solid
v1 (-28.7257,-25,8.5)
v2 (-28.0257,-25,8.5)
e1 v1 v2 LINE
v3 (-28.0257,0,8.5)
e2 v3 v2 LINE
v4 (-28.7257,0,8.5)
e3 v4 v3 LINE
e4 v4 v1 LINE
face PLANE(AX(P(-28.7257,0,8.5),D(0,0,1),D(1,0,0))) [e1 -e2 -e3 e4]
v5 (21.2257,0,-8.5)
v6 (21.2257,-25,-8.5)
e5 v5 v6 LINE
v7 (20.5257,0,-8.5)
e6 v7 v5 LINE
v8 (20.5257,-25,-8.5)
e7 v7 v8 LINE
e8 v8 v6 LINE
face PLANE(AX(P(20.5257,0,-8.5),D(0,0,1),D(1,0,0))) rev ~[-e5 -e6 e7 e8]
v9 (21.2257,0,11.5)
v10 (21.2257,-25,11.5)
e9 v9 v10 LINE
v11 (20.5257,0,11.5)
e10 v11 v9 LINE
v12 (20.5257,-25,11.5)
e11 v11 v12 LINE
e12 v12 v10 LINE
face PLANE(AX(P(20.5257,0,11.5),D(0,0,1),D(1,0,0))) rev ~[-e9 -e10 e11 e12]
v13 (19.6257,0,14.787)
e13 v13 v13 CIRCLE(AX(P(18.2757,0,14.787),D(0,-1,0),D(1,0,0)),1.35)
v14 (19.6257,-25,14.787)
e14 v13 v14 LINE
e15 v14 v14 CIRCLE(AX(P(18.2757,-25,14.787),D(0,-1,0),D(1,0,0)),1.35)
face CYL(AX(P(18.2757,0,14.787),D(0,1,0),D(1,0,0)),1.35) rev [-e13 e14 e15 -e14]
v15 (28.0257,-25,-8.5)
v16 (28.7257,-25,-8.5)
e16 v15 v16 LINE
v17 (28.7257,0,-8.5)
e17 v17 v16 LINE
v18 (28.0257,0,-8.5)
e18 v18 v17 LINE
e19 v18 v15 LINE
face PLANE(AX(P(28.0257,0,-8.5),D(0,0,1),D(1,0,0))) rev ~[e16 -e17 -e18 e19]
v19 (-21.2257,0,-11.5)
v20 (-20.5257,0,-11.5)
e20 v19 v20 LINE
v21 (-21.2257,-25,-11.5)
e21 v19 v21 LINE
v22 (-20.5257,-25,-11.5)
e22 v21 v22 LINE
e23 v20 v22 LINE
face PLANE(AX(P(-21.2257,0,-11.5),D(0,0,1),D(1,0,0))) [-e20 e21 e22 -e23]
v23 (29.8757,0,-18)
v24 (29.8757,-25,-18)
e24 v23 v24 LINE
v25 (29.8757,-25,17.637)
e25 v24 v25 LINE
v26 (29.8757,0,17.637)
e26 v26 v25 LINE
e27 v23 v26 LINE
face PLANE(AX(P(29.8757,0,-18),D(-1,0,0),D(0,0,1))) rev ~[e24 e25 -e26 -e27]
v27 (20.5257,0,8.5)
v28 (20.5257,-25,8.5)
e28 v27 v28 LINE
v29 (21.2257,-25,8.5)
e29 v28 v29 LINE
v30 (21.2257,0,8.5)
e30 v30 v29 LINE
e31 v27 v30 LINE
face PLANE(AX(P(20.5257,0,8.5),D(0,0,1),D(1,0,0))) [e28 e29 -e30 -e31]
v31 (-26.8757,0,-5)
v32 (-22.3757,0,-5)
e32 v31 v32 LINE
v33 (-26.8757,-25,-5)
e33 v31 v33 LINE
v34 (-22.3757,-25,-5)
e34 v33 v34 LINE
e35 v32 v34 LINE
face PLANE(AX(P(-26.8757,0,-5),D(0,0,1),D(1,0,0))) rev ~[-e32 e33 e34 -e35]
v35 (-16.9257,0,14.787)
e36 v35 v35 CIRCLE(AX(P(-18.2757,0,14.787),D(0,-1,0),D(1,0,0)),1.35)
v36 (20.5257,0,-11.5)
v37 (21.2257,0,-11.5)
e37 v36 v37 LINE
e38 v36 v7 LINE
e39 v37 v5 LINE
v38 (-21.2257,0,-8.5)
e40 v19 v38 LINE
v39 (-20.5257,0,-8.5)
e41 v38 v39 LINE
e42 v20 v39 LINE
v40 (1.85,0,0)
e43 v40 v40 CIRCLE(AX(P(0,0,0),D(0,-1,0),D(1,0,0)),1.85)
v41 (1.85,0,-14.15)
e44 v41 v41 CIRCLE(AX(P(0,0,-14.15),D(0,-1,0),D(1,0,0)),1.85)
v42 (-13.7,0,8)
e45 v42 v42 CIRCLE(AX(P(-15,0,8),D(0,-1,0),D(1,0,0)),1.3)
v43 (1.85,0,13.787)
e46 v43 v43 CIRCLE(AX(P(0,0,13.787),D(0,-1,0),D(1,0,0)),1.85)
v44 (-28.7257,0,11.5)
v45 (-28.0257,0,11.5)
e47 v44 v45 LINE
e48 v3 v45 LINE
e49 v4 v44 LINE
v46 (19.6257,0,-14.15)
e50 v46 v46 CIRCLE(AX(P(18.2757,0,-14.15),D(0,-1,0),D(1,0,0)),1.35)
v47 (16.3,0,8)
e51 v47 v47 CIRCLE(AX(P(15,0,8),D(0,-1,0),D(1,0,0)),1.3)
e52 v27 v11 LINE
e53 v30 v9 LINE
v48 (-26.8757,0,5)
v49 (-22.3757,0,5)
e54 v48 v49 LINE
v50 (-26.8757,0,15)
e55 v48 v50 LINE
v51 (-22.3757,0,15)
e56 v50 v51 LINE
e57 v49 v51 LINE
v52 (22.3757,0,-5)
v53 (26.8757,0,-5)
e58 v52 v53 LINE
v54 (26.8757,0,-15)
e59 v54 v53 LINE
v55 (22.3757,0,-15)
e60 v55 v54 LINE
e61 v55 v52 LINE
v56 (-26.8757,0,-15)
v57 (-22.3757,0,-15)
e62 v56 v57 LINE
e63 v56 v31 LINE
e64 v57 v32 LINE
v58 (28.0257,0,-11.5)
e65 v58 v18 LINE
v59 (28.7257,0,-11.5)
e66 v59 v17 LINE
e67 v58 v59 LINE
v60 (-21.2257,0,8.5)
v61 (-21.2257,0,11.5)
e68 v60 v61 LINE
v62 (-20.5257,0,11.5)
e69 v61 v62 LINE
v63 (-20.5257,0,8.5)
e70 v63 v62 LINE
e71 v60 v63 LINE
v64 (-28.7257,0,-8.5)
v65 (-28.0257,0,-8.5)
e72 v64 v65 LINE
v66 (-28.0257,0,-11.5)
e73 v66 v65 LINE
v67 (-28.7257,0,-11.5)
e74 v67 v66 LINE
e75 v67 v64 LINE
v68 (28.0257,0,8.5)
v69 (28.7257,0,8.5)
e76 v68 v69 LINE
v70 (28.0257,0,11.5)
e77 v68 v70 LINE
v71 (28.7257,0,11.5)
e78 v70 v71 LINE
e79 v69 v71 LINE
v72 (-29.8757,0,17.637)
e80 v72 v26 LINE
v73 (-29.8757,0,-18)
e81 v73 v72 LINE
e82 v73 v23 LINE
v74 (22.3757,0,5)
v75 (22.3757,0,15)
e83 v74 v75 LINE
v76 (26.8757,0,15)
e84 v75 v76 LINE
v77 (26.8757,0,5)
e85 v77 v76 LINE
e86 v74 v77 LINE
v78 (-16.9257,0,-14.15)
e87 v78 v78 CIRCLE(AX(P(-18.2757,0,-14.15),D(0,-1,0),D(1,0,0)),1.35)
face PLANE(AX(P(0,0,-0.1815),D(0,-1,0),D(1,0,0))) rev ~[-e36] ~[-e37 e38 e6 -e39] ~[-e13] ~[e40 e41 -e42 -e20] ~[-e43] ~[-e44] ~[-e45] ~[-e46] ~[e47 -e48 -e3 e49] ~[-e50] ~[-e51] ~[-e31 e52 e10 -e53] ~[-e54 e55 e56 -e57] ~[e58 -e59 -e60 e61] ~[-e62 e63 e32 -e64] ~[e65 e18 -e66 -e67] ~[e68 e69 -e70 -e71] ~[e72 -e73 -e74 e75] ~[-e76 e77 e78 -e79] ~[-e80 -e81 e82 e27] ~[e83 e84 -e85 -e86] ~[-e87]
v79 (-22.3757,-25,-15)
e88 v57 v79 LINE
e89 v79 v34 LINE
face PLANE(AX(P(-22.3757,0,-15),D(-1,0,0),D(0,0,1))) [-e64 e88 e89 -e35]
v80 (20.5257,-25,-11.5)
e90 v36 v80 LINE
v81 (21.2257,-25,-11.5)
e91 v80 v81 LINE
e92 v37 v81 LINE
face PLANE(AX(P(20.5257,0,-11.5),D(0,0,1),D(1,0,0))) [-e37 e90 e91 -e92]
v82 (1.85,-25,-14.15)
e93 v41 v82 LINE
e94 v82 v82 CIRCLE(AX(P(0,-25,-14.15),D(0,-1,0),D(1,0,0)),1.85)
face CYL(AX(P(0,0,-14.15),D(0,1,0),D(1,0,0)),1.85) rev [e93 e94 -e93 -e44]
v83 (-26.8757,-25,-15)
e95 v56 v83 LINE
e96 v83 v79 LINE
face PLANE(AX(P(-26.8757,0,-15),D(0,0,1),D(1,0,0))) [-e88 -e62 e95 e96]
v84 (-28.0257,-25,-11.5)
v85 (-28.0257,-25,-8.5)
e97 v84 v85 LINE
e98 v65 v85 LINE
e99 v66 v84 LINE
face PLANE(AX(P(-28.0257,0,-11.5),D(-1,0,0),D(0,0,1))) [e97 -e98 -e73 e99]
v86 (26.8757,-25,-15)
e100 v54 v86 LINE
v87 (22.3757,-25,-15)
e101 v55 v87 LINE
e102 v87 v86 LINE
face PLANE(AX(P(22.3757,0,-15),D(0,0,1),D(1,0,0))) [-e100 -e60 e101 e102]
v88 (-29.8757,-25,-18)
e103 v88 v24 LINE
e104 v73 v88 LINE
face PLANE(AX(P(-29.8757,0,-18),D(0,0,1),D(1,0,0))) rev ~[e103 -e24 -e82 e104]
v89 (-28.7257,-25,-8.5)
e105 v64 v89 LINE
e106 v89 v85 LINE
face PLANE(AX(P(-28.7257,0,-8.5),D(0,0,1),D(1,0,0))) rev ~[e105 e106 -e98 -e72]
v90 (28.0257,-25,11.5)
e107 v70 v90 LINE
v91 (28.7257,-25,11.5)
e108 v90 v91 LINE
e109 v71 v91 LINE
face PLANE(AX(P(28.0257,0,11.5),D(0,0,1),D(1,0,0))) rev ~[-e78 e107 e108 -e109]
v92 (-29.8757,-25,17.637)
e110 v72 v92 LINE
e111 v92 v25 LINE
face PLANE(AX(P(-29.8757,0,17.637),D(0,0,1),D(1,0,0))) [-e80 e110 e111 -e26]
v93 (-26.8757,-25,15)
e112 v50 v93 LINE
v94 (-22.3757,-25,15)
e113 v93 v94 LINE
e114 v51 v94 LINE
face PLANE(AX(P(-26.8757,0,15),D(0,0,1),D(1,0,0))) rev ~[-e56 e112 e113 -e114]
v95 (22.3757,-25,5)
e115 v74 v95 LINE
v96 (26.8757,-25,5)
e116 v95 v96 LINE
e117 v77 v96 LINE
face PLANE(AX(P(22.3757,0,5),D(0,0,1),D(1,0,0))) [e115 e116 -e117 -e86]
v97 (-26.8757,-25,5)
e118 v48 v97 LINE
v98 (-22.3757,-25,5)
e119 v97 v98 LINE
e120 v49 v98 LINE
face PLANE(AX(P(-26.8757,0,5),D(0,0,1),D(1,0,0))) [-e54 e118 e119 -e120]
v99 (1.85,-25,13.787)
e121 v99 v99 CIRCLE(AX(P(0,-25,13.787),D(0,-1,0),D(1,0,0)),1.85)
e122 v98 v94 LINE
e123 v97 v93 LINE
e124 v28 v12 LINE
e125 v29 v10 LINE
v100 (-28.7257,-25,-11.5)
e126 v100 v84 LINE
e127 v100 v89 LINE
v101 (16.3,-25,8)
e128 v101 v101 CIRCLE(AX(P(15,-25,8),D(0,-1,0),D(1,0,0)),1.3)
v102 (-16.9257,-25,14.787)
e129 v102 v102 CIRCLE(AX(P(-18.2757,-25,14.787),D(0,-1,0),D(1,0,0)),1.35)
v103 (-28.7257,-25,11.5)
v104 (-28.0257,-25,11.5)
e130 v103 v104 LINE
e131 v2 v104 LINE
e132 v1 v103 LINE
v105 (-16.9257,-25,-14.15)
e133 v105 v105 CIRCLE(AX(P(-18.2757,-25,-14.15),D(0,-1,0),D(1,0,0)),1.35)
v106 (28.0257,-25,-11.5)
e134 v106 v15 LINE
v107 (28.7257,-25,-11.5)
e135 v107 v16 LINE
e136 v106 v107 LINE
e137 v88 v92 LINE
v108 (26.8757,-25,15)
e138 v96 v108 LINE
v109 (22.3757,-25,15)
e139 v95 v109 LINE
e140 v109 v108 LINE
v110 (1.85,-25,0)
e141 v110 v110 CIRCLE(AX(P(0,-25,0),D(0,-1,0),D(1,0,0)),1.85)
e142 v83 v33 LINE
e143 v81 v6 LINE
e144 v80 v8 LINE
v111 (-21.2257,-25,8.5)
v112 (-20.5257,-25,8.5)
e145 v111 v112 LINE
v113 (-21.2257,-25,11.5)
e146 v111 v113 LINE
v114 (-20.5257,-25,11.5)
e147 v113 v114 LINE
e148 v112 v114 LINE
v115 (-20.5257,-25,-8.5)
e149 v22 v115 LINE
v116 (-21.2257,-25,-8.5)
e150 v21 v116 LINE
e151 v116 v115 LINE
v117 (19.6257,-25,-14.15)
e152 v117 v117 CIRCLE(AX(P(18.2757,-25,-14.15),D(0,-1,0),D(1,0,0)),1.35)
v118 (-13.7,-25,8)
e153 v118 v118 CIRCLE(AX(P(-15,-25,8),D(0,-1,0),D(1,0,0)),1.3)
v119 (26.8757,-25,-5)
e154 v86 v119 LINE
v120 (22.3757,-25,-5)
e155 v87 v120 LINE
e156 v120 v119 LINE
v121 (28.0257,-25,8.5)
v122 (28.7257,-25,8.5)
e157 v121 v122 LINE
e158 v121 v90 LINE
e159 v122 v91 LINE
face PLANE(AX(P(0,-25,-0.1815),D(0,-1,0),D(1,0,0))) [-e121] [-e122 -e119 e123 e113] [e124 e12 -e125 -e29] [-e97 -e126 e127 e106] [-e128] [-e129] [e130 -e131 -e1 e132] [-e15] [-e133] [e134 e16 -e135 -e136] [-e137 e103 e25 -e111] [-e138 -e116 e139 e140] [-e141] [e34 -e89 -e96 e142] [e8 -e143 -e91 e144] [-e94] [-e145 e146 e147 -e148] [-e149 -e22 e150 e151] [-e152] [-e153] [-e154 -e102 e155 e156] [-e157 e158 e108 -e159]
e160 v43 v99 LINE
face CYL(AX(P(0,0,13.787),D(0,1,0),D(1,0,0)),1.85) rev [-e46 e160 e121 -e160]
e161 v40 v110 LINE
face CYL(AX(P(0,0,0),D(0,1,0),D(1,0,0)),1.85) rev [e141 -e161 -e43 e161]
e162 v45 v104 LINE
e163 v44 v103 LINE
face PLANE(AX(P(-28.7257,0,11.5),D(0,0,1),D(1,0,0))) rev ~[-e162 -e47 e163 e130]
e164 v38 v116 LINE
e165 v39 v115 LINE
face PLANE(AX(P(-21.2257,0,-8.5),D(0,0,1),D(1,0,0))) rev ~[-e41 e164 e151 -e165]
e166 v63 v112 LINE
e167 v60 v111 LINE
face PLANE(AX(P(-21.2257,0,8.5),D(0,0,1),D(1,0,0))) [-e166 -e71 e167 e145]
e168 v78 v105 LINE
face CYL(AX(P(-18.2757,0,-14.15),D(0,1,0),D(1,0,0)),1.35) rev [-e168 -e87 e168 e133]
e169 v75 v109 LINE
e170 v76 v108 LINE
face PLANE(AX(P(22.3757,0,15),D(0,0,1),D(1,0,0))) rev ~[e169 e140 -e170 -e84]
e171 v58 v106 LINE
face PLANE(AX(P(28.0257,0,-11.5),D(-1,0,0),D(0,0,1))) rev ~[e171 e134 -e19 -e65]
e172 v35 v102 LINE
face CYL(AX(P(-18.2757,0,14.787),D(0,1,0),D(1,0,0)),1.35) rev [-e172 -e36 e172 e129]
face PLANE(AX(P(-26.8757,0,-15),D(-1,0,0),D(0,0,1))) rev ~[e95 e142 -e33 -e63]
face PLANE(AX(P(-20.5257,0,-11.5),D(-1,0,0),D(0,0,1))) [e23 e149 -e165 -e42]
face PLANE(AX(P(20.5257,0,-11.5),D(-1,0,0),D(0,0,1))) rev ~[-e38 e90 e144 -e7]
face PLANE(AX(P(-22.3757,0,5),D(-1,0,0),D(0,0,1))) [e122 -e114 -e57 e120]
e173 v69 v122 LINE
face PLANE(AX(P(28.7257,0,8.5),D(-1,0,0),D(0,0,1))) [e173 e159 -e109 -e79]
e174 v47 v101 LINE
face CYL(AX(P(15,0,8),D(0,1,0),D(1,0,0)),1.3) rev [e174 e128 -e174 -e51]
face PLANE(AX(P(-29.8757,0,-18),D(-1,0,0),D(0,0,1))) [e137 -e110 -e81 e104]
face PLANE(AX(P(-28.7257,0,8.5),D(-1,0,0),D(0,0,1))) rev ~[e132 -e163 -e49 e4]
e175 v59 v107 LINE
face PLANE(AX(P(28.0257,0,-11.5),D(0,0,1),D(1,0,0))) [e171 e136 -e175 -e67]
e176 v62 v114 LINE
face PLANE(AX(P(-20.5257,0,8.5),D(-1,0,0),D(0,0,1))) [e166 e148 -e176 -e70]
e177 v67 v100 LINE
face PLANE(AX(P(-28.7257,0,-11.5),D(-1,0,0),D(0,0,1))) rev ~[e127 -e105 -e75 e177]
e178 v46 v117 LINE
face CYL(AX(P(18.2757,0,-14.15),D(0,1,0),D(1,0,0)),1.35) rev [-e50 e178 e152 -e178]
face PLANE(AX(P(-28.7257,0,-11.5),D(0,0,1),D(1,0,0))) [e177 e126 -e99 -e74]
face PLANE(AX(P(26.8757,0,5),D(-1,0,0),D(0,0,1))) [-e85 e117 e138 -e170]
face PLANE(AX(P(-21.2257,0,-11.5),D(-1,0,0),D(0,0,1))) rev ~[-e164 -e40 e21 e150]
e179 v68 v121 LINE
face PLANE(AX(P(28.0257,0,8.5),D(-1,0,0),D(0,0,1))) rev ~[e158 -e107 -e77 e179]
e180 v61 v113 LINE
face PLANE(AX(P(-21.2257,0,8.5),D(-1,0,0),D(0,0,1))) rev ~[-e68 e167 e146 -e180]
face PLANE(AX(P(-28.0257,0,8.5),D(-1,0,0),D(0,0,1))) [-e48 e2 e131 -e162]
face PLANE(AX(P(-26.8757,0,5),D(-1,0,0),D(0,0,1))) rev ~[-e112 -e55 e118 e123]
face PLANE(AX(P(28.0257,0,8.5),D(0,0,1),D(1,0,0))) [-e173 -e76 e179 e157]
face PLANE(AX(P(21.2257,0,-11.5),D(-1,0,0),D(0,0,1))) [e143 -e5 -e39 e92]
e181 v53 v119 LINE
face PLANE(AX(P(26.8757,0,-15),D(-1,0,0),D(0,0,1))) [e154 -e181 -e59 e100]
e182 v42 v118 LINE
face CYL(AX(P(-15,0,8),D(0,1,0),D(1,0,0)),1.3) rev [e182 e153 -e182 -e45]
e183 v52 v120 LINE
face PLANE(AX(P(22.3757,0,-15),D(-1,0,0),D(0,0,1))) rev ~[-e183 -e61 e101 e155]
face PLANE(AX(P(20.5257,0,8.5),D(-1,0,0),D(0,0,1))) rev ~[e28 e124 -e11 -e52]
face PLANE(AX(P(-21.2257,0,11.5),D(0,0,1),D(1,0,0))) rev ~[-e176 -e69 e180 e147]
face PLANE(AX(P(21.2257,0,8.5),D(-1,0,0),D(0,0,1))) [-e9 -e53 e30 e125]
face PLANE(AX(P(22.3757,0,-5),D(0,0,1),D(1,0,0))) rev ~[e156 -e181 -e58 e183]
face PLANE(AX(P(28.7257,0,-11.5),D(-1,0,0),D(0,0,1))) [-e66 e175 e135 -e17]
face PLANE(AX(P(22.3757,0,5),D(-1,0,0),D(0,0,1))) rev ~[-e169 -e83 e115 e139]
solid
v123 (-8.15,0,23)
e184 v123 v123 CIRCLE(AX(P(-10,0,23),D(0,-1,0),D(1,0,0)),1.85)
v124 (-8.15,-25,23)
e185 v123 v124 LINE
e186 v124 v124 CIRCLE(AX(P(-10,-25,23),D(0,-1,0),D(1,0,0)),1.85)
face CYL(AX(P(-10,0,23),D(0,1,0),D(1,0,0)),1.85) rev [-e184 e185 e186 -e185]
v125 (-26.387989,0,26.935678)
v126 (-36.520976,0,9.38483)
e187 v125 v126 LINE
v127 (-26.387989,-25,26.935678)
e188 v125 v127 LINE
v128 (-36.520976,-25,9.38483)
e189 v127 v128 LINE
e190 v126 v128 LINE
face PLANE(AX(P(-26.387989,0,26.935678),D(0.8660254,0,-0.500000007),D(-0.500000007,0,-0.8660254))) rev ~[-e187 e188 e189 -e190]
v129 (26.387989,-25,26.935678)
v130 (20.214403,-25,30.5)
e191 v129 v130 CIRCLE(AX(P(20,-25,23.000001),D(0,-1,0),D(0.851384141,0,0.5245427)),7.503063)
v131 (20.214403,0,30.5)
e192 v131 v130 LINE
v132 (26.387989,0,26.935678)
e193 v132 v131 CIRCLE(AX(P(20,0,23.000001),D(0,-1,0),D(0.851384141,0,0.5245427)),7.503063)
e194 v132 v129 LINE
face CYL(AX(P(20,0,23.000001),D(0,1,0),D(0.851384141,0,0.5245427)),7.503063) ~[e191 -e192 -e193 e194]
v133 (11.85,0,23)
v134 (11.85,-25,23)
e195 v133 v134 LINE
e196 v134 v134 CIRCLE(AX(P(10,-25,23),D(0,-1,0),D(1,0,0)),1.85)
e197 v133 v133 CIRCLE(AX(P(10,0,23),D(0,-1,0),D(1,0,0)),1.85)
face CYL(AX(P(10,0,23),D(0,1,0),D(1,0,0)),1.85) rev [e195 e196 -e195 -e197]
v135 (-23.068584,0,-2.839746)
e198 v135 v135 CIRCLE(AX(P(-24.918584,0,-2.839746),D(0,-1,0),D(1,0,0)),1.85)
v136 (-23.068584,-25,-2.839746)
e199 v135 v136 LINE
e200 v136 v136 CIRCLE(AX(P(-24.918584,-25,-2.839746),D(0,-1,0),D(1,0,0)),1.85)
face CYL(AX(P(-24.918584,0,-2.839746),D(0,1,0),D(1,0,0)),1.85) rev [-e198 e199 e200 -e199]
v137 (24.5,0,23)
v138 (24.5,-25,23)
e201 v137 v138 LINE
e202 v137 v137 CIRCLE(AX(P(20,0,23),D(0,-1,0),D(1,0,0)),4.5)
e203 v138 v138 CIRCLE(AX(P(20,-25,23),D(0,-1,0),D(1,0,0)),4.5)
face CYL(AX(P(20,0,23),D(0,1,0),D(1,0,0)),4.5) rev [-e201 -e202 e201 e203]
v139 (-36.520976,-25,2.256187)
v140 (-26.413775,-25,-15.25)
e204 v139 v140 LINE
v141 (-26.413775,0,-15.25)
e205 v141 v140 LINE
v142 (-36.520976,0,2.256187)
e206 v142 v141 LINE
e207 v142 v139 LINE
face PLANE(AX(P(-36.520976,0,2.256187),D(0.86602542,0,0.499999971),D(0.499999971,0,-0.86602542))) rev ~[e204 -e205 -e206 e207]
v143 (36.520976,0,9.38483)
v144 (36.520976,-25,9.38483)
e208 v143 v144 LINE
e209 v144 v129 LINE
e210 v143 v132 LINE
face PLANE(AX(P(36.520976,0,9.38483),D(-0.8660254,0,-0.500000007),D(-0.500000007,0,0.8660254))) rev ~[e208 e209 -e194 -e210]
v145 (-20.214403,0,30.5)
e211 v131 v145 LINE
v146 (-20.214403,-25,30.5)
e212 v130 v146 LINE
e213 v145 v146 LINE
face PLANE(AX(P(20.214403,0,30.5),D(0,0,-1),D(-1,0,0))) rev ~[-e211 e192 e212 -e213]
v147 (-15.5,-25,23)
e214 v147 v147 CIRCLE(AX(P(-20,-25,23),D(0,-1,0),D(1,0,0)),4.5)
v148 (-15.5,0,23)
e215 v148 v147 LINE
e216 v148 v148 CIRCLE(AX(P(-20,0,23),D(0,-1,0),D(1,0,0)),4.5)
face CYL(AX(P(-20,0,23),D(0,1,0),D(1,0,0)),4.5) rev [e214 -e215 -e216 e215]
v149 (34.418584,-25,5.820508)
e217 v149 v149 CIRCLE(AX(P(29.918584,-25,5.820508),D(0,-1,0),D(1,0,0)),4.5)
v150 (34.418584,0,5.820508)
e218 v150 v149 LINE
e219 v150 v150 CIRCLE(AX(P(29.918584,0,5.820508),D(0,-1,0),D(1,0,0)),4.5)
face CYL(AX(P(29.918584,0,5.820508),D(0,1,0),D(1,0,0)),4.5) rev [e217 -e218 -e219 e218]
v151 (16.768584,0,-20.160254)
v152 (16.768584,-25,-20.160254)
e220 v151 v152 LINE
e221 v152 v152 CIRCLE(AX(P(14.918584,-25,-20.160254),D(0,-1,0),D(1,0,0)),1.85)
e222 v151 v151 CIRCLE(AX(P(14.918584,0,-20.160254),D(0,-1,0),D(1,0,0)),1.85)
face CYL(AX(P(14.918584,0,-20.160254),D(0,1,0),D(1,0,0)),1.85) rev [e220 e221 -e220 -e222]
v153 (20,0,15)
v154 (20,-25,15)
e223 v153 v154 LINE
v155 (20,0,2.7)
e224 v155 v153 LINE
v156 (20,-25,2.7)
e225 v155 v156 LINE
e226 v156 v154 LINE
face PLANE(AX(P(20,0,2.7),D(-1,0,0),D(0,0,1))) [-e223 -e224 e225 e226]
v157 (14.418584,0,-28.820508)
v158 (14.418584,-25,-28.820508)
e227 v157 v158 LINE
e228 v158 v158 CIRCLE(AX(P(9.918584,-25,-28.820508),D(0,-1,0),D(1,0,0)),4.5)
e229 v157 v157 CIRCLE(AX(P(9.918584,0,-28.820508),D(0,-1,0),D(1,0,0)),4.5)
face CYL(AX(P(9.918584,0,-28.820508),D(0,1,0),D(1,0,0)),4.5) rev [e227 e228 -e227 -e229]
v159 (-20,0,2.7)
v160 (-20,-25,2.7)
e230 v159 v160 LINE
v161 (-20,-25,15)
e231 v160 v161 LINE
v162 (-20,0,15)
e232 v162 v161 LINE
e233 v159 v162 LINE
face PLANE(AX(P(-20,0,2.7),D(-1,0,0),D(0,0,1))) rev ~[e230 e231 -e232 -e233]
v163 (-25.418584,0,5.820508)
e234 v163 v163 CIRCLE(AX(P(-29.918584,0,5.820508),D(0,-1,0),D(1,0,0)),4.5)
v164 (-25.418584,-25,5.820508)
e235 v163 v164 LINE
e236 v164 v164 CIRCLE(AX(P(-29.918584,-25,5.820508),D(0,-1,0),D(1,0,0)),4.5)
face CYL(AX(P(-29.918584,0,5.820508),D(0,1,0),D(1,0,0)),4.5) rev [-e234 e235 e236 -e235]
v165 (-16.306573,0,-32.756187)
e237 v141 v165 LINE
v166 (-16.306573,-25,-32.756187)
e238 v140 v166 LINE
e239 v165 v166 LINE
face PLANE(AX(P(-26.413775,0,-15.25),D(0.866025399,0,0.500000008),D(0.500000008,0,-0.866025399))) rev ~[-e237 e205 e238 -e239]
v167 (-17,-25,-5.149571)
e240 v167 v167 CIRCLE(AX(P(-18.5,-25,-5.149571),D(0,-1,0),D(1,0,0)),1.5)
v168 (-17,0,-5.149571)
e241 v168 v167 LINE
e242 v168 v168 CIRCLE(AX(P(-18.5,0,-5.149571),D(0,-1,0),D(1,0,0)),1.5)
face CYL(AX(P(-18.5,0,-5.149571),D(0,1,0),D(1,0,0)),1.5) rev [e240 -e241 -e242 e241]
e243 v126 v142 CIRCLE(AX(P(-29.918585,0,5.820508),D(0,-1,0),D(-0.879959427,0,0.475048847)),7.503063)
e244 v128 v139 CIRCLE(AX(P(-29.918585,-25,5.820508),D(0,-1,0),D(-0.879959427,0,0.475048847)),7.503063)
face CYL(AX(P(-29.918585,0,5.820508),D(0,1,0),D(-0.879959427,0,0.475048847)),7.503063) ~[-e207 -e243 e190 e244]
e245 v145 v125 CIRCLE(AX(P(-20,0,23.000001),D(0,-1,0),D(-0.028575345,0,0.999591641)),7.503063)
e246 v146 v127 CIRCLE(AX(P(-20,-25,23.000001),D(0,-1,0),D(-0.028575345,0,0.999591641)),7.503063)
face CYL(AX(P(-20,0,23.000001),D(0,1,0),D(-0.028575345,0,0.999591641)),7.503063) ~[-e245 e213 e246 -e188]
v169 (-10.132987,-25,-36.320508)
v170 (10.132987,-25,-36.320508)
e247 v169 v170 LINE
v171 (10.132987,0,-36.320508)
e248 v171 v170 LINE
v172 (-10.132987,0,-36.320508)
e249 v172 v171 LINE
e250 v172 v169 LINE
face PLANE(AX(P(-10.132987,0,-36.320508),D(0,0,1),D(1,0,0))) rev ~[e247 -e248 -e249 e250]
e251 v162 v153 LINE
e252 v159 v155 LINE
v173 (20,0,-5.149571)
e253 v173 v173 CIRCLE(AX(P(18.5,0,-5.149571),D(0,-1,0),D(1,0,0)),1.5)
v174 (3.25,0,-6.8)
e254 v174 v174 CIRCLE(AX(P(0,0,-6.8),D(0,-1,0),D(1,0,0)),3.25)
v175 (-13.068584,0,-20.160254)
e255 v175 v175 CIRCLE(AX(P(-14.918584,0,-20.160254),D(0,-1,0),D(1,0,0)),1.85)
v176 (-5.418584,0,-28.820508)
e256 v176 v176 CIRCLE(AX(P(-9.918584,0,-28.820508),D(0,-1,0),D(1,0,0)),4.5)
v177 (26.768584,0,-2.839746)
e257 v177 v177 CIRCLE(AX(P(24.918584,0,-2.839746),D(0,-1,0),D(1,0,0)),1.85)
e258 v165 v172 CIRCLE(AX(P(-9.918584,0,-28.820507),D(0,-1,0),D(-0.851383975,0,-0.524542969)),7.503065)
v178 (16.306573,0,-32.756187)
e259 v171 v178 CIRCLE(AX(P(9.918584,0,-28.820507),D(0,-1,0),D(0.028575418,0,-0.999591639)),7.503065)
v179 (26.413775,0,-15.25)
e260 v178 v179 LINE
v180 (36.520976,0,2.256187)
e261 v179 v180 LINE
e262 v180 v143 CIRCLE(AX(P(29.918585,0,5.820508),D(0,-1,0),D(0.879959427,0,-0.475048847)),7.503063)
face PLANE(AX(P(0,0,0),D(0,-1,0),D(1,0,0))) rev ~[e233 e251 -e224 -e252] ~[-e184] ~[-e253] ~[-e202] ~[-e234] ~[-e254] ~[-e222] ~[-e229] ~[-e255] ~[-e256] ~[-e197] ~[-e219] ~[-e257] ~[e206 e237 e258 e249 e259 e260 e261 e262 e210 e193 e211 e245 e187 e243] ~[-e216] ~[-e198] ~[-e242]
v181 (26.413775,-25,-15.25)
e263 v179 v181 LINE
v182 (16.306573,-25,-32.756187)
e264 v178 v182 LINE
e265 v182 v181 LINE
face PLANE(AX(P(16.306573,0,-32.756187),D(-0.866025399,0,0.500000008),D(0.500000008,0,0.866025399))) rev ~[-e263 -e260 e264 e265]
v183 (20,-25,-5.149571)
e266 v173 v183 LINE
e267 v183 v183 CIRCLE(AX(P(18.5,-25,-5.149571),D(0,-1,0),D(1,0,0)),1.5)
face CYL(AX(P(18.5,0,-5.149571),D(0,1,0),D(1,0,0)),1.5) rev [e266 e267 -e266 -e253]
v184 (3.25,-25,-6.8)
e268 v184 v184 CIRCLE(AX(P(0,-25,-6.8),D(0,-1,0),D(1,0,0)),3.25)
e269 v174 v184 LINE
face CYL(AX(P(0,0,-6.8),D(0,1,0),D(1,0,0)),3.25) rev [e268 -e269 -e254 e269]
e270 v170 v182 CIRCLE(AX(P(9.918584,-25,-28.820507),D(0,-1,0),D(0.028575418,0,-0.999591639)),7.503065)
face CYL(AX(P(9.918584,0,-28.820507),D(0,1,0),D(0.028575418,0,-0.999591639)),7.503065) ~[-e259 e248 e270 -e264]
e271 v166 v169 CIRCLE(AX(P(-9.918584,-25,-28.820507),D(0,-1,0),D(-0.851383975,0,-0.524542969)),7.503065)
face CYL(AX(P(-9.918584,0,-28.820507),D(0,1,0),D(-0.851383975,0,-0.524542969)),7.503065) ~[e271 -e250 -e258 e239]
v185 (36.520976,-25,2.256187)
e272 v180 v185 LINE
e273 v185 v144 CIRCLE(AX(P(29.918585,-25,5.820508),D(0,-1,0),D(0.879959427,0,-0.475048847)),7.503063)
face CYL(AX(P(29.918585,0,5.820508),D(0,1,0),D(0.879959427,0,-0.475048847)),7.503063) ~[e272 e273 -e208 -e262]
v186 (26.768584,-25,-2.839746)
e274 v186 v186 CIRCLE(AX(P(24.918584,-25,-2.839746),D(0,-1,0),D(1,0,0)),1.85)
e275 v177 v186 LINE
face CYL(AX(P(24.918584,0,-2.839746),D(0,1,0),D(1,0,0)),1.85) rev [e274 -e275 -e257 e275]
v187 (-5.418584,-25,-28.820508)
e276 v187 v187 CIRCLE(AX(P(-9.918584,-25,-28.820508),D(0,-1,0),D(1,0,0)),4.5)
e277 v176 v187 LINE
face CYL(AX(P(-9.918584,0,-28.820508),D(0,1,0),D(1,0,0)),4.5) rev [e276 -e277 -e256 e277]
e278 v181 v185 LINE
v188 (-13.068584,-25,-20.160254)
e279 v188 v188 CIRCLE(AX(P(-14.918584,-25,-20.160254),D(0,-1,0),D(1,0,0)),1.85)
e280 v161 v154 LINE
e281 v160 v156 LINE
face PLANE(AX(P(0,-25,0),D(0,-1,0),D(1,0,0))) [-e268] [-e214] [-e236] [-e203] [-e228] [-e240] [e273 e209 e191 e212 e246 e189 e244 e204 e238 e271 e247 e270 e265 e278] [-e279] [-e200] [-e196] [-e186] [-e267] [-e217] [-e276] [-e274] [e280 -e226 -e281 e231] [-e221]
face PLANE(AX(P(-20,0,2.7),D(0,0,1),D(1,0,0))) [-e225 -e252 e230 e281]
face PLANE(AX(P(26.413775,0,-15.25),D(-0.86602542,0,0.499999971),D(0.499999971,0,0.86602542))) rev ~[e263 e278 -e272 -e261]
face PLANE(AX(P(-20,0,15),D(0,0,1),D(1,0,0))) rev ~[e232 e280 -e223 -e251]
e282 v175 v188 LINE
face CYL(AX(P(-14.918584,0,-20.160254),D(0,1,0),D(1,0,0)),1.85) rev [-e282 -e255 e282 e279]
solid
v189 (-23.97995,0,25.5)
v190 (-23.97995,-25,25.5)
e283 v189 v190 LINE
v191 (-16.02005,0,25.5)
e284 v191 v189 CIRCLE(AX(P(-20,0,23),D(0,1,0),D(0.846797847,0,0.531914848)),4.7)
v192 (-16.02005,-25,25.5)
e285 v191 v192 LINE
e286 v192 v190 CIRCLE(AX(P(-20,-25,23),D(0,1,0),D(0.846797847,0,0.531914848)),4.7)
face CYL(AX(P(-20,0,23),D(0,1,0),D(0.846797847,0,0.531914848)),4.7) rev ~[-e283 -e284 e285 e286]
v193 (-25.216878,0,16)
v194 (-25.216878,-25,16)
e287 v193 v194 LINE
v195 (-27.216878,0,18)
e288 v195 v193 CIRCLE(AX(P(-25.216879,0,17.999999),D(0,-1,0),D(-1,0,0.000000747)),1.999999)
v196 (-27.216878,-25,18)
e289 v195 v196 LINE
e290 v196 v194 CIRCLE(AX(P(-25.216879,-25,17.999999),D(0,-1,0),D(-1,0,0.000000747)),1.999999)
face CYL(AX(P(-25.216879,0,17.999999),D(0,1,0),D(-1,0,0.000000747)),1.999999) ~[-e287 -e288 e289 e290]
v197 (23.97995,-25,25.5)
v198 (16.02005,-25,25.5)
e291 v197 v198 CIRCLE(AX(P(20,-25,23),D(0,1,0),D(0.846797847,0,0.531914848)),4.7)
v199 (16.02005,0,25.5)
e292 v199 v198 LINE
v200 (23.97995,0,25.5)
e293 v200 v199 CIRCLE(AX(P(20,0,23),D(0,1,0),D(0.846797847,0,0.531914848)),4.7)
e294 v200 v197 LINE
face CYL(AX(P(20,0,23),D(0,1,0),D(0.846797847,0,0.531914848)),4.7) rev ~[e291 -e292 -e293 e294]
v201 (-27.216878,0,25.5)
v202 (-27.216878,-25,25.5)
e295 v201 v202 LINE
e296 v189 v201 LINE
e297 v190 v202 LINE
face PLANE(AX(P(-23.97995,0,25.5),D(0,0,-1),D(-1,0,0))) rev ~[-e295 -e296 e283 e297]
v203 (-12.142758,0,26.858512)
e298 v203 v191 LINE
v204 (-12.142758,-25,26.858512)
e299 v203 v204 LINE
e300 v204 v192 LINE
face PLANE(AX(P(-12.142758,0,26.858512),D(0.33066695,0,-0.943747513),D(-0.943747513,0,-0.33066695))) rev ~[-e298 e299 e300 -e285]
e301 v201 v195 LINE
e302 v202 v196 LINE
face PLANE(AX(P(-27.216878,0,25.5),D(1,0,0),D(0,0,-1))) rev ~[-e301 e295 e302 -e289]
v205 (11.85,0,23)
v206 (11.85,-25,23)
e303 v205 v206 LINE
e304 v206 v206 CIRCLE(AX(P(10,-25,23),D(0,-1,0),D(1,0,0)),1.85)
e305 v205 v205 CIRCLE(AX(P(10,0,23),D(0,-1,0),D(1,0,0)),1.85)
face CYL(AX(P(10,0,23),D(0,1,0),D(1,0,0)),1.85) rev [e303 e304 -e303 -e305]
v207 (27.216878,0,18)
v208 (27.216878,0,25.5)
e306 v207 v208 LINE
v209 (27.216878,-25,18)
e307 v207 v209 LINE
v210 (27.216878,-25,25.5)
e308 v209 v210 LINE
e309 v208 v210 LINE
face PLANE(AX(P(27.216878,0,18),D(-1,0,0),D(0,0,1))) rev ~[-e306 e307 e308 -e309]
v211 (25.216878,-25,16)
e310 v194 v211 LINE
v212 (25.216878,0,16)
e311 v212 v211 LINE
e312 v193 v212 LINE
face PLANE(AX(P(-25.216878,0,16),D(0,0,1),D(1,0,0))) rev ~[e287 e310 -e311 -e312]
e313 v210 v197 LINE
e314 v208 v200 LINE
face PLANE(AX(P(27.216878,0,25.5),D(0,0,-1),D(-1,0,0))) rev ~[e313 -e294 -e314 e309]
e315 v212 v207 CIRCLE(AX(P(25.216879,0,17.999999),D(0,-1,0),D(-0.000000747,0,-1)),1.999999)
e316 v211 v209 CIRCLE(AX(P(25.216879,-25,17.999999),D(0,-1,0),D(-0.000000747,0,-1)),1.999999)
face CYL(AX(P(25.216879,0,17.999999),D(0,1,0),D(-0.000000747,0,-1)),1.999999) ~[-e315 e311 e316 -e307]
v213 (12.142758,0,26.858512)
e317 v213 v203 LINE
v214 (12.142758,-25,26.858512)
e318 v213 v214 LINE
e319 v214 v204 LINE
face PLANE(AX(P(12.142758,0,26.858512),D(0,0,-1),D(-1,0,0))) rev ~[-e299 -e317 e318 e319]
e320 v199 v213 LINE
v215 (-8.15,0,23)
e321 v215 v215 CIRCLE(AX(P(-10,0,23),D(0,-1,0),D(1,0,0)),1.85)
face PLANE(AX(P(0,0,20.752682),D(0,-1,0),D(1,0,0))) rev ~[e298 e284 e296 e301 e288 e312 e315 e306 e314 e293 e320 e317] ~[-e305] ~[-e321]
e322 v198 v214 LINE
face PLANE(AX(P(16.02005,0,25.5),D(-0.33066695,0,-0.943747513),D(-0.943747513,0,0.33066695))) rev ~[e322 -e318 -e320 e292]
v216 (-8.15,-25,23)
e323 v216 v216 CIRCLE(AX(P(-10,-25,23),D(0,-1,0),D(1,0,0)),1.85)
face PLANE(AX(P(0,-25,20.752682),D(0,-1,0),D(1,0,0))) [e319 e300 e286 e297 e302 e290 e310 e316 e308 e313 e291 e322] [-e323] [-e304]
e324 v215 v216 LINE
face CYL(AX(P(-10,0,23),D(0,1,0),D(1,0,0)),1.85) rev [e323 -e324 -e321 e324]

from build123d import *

# Parameters (mm, degrees)
F1_R     = 4.5
F1_R_2   = 1.85
F1_R_3   = 1.5
F1_R_4   = 3.25
F1_W     = 40
F1_H     = 12.3
F3_DEPTH = 25
F2_R     = 1.85
F4_DEPTH = 25
F0_W     = 59.7514
F0_H     = 35.637
F0_R     = 1.35
F0_W_2   = 0.7
F0_H_2   = 3
F0_W_3   = 4.5
F0_H_3   = 10
F0_R_2   = 1.85
F0_R_3   = 1.3
F5_DEPTH = 25


with BuildPart() as f3:
    # F1 (on Front) → F3 (new body)
    with BuildSketch(Plane.XZ):
        with BuildLine():
            Line((0, 30.5), (-20.214403, 30.5))
            ThreePointArc((-20.214403, 30.5), (-23.751532, 29.497844), (-26.387989, 26.935678))
            Line((-26.387989, 26.935678), (-36.520976, 9.38483))
            ThreePointArc((-36.520976, 9.38483), (-37.421648, 5.820508), (-36.520976, 2.256187))
            Line((-36.520976, 2.256187), (-26.413775, -15.25))
            Line((-26.413775, -15.25), (-16.306573, -32.756187))
            ThreePointArc((-16.306573, -32.756187), (-13.670116, -35.318352), (-10.132987, -36.320508))
            Line((-10.132987, -36.320508), (10.132987, -36.320508))
            ThreePointArc((10.132987, -36.320508), (13.670116, -35.318352), (16.306573, -32.756187))
            Line((16.306573, -32.756187), (26.413775, -15.25))
            Line((26.413775, -15.25), (36.520976, 2.256187))
            ThreePointArc((36.520976, 2.256187), (37.421648, 5.820508), (36.520976, 9.38483))
            Line((36.520976, 9.38483), (26.387989, 26.935678))
            ThreePointArc((26.387989, 26.935678), (23.751532, 29.497844), (20.214403, 30.5))
            Line((20.214403, 30.5), (0, 30.5))
        make_face()
        with Locations((-9.918584, -28.820508)):
            Circle(F1_R, mode=Mode.SUBTRACT)
        with Locations((-14.918584, -20.160254)):
            Circle(F1_R_2, mode=Mode.SUBTRACT)
        with Locations((-18.5, -5.149571)):
            Circle(F1_R_3, mode=Mode.SUBTRACT)
        with Locations((9.918584, -28.820508)):
            Circle(F1_R, mode=Mode.SUBTRACT)
        with Locations((14.918584, -20.160254)):
            Circle(F1_R_2, mode=Mode.SUBTRACT)
        with Locations((0, -6.8)):
            Circle(F1_R_4, mode=Mode.SUBTRACT)
        with Locations((18.5, -5.149571)):
            Circle(F1_R_3, mode=Mode.SUBTRACT)
        with Locations((-24.918584, -2.839746)):
            Circle(F1_R_2, mode=Mode.SUBTRACT)
        with Locations((-29.918584, 5.820508)):
            Circle(F1_R, mode=Mode.SUBTRACT)
        with Locations((-20, 23)):
            Circle(F1_R, mode=Mode.SUBTRACT)
        with Locations((-10, 23)):
            Circle(F1_R_2, mode=Mode.SUBTRACT)
        with Locations((0, 8.85)):
            Rectangle(F1_W, F1_H, mode=Mode.SUBTRACT)
        with Locations((24.918584, -2.839746)):
            Circle(F1_R_2, mode=Mode.SUBTRACT)
        with Locations((29.918584, 5.820508)):
            Circle(F1_R, mode=Mode.SUBTRACT)
        with Locations((10, 23)):
            Circle(F1_R_2, mode=Mode.SUBTRACT)
        with Locations((20, 23)):
            Circle(F1_R, mode=Mode.SUBTRACT)
    extrude(amount=F3_DEPTH)


with BuildPart() as f4:
    # F2 (on Front) → F4 (new body)
    with BuildSketch(Plane.XZ):
        with BuildLine():
            ThreePointArc((-16.02005, 25.5), (-20, 18.3), (-23.97995, 25.5))
            Line((-23.97995, 25.5), (-27.216878, 25.5))
            Line((-27.216878, 25.5), (-27.216878, 18))
            ThreePointArc((-27.216878, 18), (-26.631092, 16.585786), (-25.216878, 16))
            Line((-25.216878, 16), (0, 16))
            Line((0, 16), (25.216878, 16))
            ThreePointArc((25.216878, 16), (26.631092, 16.585786), (27.216878, 18))
            Line((27.216878, 18), (27.216878, 25.5))
            Line((27.216878, 25.5), (23.97995, 25.5))
            ThreePointArc((23.97995, 25.5), (20, 18.3), (16.02005, 25.5))
            Line((16.02005, 25.5), (12.142758, 26.858512))
            Line((12.142758, 26.858512), (0, 26.858512))
            Line((0, 26.858512), (-12.142758, 26.858512))
            Line((-12.142758, 26.858512), (-16.02005, 25.5))
        make_face()
        with Locations((-10, 23)):
            Circle(F2_R, mode=Mode.SUBTRACT)
        with Locations((10, 23)):
            Circle(F2_R, mode=Mode.SUBTRACT)
    extrude(amount=F4_DEPTH)


with BuildPart() as f5:
    # F0 (on Front) → F5 (new body)
    with BuildSketch(Plane.XZ):
        with Locations((0, -0.1815)):
            Rectangle(F0_W, F0_H)
        with Locations((-18.2757, -14.15)):
            Circle(F0_R, mode=Mode.SUBTRACT)
        with Locations((-28.3757, -10)):
            Rectangle(F0_W_2, F0_H_2, mode=Mode.SUBTRACT)
        with Locations((-24.6257, -10)):
            Rectangle(F0_W_3, F0_H_3, mode=Mode.SUBTRACT)
        with Locations((-20.8757, -10)):
            Rectangle(F0_W_2, F0_H_2, mode=Mode.SUBTRACT)
        with Locations((0, -14.15)):
            Circle(F0_R_2, mode=Mode.SUBTRACT)
        with Locations((18.2757, -14.15)):
            Circle(F0_R, mode=Mode.SUBTRACT)
        with Locations((20.8757, -10)):
            Rectangle(F0_W_2, F0_H_2, mode=Mode.SUBTRACT)
        with Locations((24.6257, -10)):
            Rectangle(F0_W_3, F0_H_3, mode=Mode.SUBTRACT)
        with Locations((28.3757, -10)):
            Rectangle(F0_W_2, F0_H_2, mode=Mode.SUBTRACT)
        with Locations((-15, 8)):
            Circle(F0_R_3, mode=Mode.SUBTRACT)
        with Locations((-28.3757, 10)):
            Rectangle(F0_W_2, F0_H_2, mode=Mode.SUBTRACT)
        with Locations((-24.6257, 10)):
            Rectangle(F0_W_3, F0_H_3, mode=Mode.SUBTRACT)
        with Locations((-20.8757, 10)):
            Rectangle(F0_W_2, F0_H_2, mode=Mode.SUBTRACT)
        with Locations((-18.2757, 14.787)):
            Circle(F0_R, mode=Mode.SUBTRACT)
        Circle(F0_R_2, mode=Mode.SUBTRACT)
        with Locations((15, 8)):
            Circle(F0_R_3, mode=Mode.SUBTRACT)
        with Locations((0, 13.787)):
            Circle(F0_R_2, mode=Mode.SUBTRACT)
        with Locations((20.8757, 10)):
            Rectangle(F0_W_2, F0_H_2, mode=Mode.SUBTRACT)
        with Locations((24.6257, 10)):
            Rectangle(F0_W_3, F0_H_3, mode=Mode.SUBTRACT)
        with Locations((28.3757, 10)):
            Rectangle(F0_W_2, F0_H_2, mode=Mode.SUBTRACT)
        with Locations((18.2757, 14.787)):
            Circle(F0_R, mode=Mode.SUBTRACT)
    extrude(amount=F5_DEPTH)


solid = Compound([f3.part, f4.part, f5.part])
